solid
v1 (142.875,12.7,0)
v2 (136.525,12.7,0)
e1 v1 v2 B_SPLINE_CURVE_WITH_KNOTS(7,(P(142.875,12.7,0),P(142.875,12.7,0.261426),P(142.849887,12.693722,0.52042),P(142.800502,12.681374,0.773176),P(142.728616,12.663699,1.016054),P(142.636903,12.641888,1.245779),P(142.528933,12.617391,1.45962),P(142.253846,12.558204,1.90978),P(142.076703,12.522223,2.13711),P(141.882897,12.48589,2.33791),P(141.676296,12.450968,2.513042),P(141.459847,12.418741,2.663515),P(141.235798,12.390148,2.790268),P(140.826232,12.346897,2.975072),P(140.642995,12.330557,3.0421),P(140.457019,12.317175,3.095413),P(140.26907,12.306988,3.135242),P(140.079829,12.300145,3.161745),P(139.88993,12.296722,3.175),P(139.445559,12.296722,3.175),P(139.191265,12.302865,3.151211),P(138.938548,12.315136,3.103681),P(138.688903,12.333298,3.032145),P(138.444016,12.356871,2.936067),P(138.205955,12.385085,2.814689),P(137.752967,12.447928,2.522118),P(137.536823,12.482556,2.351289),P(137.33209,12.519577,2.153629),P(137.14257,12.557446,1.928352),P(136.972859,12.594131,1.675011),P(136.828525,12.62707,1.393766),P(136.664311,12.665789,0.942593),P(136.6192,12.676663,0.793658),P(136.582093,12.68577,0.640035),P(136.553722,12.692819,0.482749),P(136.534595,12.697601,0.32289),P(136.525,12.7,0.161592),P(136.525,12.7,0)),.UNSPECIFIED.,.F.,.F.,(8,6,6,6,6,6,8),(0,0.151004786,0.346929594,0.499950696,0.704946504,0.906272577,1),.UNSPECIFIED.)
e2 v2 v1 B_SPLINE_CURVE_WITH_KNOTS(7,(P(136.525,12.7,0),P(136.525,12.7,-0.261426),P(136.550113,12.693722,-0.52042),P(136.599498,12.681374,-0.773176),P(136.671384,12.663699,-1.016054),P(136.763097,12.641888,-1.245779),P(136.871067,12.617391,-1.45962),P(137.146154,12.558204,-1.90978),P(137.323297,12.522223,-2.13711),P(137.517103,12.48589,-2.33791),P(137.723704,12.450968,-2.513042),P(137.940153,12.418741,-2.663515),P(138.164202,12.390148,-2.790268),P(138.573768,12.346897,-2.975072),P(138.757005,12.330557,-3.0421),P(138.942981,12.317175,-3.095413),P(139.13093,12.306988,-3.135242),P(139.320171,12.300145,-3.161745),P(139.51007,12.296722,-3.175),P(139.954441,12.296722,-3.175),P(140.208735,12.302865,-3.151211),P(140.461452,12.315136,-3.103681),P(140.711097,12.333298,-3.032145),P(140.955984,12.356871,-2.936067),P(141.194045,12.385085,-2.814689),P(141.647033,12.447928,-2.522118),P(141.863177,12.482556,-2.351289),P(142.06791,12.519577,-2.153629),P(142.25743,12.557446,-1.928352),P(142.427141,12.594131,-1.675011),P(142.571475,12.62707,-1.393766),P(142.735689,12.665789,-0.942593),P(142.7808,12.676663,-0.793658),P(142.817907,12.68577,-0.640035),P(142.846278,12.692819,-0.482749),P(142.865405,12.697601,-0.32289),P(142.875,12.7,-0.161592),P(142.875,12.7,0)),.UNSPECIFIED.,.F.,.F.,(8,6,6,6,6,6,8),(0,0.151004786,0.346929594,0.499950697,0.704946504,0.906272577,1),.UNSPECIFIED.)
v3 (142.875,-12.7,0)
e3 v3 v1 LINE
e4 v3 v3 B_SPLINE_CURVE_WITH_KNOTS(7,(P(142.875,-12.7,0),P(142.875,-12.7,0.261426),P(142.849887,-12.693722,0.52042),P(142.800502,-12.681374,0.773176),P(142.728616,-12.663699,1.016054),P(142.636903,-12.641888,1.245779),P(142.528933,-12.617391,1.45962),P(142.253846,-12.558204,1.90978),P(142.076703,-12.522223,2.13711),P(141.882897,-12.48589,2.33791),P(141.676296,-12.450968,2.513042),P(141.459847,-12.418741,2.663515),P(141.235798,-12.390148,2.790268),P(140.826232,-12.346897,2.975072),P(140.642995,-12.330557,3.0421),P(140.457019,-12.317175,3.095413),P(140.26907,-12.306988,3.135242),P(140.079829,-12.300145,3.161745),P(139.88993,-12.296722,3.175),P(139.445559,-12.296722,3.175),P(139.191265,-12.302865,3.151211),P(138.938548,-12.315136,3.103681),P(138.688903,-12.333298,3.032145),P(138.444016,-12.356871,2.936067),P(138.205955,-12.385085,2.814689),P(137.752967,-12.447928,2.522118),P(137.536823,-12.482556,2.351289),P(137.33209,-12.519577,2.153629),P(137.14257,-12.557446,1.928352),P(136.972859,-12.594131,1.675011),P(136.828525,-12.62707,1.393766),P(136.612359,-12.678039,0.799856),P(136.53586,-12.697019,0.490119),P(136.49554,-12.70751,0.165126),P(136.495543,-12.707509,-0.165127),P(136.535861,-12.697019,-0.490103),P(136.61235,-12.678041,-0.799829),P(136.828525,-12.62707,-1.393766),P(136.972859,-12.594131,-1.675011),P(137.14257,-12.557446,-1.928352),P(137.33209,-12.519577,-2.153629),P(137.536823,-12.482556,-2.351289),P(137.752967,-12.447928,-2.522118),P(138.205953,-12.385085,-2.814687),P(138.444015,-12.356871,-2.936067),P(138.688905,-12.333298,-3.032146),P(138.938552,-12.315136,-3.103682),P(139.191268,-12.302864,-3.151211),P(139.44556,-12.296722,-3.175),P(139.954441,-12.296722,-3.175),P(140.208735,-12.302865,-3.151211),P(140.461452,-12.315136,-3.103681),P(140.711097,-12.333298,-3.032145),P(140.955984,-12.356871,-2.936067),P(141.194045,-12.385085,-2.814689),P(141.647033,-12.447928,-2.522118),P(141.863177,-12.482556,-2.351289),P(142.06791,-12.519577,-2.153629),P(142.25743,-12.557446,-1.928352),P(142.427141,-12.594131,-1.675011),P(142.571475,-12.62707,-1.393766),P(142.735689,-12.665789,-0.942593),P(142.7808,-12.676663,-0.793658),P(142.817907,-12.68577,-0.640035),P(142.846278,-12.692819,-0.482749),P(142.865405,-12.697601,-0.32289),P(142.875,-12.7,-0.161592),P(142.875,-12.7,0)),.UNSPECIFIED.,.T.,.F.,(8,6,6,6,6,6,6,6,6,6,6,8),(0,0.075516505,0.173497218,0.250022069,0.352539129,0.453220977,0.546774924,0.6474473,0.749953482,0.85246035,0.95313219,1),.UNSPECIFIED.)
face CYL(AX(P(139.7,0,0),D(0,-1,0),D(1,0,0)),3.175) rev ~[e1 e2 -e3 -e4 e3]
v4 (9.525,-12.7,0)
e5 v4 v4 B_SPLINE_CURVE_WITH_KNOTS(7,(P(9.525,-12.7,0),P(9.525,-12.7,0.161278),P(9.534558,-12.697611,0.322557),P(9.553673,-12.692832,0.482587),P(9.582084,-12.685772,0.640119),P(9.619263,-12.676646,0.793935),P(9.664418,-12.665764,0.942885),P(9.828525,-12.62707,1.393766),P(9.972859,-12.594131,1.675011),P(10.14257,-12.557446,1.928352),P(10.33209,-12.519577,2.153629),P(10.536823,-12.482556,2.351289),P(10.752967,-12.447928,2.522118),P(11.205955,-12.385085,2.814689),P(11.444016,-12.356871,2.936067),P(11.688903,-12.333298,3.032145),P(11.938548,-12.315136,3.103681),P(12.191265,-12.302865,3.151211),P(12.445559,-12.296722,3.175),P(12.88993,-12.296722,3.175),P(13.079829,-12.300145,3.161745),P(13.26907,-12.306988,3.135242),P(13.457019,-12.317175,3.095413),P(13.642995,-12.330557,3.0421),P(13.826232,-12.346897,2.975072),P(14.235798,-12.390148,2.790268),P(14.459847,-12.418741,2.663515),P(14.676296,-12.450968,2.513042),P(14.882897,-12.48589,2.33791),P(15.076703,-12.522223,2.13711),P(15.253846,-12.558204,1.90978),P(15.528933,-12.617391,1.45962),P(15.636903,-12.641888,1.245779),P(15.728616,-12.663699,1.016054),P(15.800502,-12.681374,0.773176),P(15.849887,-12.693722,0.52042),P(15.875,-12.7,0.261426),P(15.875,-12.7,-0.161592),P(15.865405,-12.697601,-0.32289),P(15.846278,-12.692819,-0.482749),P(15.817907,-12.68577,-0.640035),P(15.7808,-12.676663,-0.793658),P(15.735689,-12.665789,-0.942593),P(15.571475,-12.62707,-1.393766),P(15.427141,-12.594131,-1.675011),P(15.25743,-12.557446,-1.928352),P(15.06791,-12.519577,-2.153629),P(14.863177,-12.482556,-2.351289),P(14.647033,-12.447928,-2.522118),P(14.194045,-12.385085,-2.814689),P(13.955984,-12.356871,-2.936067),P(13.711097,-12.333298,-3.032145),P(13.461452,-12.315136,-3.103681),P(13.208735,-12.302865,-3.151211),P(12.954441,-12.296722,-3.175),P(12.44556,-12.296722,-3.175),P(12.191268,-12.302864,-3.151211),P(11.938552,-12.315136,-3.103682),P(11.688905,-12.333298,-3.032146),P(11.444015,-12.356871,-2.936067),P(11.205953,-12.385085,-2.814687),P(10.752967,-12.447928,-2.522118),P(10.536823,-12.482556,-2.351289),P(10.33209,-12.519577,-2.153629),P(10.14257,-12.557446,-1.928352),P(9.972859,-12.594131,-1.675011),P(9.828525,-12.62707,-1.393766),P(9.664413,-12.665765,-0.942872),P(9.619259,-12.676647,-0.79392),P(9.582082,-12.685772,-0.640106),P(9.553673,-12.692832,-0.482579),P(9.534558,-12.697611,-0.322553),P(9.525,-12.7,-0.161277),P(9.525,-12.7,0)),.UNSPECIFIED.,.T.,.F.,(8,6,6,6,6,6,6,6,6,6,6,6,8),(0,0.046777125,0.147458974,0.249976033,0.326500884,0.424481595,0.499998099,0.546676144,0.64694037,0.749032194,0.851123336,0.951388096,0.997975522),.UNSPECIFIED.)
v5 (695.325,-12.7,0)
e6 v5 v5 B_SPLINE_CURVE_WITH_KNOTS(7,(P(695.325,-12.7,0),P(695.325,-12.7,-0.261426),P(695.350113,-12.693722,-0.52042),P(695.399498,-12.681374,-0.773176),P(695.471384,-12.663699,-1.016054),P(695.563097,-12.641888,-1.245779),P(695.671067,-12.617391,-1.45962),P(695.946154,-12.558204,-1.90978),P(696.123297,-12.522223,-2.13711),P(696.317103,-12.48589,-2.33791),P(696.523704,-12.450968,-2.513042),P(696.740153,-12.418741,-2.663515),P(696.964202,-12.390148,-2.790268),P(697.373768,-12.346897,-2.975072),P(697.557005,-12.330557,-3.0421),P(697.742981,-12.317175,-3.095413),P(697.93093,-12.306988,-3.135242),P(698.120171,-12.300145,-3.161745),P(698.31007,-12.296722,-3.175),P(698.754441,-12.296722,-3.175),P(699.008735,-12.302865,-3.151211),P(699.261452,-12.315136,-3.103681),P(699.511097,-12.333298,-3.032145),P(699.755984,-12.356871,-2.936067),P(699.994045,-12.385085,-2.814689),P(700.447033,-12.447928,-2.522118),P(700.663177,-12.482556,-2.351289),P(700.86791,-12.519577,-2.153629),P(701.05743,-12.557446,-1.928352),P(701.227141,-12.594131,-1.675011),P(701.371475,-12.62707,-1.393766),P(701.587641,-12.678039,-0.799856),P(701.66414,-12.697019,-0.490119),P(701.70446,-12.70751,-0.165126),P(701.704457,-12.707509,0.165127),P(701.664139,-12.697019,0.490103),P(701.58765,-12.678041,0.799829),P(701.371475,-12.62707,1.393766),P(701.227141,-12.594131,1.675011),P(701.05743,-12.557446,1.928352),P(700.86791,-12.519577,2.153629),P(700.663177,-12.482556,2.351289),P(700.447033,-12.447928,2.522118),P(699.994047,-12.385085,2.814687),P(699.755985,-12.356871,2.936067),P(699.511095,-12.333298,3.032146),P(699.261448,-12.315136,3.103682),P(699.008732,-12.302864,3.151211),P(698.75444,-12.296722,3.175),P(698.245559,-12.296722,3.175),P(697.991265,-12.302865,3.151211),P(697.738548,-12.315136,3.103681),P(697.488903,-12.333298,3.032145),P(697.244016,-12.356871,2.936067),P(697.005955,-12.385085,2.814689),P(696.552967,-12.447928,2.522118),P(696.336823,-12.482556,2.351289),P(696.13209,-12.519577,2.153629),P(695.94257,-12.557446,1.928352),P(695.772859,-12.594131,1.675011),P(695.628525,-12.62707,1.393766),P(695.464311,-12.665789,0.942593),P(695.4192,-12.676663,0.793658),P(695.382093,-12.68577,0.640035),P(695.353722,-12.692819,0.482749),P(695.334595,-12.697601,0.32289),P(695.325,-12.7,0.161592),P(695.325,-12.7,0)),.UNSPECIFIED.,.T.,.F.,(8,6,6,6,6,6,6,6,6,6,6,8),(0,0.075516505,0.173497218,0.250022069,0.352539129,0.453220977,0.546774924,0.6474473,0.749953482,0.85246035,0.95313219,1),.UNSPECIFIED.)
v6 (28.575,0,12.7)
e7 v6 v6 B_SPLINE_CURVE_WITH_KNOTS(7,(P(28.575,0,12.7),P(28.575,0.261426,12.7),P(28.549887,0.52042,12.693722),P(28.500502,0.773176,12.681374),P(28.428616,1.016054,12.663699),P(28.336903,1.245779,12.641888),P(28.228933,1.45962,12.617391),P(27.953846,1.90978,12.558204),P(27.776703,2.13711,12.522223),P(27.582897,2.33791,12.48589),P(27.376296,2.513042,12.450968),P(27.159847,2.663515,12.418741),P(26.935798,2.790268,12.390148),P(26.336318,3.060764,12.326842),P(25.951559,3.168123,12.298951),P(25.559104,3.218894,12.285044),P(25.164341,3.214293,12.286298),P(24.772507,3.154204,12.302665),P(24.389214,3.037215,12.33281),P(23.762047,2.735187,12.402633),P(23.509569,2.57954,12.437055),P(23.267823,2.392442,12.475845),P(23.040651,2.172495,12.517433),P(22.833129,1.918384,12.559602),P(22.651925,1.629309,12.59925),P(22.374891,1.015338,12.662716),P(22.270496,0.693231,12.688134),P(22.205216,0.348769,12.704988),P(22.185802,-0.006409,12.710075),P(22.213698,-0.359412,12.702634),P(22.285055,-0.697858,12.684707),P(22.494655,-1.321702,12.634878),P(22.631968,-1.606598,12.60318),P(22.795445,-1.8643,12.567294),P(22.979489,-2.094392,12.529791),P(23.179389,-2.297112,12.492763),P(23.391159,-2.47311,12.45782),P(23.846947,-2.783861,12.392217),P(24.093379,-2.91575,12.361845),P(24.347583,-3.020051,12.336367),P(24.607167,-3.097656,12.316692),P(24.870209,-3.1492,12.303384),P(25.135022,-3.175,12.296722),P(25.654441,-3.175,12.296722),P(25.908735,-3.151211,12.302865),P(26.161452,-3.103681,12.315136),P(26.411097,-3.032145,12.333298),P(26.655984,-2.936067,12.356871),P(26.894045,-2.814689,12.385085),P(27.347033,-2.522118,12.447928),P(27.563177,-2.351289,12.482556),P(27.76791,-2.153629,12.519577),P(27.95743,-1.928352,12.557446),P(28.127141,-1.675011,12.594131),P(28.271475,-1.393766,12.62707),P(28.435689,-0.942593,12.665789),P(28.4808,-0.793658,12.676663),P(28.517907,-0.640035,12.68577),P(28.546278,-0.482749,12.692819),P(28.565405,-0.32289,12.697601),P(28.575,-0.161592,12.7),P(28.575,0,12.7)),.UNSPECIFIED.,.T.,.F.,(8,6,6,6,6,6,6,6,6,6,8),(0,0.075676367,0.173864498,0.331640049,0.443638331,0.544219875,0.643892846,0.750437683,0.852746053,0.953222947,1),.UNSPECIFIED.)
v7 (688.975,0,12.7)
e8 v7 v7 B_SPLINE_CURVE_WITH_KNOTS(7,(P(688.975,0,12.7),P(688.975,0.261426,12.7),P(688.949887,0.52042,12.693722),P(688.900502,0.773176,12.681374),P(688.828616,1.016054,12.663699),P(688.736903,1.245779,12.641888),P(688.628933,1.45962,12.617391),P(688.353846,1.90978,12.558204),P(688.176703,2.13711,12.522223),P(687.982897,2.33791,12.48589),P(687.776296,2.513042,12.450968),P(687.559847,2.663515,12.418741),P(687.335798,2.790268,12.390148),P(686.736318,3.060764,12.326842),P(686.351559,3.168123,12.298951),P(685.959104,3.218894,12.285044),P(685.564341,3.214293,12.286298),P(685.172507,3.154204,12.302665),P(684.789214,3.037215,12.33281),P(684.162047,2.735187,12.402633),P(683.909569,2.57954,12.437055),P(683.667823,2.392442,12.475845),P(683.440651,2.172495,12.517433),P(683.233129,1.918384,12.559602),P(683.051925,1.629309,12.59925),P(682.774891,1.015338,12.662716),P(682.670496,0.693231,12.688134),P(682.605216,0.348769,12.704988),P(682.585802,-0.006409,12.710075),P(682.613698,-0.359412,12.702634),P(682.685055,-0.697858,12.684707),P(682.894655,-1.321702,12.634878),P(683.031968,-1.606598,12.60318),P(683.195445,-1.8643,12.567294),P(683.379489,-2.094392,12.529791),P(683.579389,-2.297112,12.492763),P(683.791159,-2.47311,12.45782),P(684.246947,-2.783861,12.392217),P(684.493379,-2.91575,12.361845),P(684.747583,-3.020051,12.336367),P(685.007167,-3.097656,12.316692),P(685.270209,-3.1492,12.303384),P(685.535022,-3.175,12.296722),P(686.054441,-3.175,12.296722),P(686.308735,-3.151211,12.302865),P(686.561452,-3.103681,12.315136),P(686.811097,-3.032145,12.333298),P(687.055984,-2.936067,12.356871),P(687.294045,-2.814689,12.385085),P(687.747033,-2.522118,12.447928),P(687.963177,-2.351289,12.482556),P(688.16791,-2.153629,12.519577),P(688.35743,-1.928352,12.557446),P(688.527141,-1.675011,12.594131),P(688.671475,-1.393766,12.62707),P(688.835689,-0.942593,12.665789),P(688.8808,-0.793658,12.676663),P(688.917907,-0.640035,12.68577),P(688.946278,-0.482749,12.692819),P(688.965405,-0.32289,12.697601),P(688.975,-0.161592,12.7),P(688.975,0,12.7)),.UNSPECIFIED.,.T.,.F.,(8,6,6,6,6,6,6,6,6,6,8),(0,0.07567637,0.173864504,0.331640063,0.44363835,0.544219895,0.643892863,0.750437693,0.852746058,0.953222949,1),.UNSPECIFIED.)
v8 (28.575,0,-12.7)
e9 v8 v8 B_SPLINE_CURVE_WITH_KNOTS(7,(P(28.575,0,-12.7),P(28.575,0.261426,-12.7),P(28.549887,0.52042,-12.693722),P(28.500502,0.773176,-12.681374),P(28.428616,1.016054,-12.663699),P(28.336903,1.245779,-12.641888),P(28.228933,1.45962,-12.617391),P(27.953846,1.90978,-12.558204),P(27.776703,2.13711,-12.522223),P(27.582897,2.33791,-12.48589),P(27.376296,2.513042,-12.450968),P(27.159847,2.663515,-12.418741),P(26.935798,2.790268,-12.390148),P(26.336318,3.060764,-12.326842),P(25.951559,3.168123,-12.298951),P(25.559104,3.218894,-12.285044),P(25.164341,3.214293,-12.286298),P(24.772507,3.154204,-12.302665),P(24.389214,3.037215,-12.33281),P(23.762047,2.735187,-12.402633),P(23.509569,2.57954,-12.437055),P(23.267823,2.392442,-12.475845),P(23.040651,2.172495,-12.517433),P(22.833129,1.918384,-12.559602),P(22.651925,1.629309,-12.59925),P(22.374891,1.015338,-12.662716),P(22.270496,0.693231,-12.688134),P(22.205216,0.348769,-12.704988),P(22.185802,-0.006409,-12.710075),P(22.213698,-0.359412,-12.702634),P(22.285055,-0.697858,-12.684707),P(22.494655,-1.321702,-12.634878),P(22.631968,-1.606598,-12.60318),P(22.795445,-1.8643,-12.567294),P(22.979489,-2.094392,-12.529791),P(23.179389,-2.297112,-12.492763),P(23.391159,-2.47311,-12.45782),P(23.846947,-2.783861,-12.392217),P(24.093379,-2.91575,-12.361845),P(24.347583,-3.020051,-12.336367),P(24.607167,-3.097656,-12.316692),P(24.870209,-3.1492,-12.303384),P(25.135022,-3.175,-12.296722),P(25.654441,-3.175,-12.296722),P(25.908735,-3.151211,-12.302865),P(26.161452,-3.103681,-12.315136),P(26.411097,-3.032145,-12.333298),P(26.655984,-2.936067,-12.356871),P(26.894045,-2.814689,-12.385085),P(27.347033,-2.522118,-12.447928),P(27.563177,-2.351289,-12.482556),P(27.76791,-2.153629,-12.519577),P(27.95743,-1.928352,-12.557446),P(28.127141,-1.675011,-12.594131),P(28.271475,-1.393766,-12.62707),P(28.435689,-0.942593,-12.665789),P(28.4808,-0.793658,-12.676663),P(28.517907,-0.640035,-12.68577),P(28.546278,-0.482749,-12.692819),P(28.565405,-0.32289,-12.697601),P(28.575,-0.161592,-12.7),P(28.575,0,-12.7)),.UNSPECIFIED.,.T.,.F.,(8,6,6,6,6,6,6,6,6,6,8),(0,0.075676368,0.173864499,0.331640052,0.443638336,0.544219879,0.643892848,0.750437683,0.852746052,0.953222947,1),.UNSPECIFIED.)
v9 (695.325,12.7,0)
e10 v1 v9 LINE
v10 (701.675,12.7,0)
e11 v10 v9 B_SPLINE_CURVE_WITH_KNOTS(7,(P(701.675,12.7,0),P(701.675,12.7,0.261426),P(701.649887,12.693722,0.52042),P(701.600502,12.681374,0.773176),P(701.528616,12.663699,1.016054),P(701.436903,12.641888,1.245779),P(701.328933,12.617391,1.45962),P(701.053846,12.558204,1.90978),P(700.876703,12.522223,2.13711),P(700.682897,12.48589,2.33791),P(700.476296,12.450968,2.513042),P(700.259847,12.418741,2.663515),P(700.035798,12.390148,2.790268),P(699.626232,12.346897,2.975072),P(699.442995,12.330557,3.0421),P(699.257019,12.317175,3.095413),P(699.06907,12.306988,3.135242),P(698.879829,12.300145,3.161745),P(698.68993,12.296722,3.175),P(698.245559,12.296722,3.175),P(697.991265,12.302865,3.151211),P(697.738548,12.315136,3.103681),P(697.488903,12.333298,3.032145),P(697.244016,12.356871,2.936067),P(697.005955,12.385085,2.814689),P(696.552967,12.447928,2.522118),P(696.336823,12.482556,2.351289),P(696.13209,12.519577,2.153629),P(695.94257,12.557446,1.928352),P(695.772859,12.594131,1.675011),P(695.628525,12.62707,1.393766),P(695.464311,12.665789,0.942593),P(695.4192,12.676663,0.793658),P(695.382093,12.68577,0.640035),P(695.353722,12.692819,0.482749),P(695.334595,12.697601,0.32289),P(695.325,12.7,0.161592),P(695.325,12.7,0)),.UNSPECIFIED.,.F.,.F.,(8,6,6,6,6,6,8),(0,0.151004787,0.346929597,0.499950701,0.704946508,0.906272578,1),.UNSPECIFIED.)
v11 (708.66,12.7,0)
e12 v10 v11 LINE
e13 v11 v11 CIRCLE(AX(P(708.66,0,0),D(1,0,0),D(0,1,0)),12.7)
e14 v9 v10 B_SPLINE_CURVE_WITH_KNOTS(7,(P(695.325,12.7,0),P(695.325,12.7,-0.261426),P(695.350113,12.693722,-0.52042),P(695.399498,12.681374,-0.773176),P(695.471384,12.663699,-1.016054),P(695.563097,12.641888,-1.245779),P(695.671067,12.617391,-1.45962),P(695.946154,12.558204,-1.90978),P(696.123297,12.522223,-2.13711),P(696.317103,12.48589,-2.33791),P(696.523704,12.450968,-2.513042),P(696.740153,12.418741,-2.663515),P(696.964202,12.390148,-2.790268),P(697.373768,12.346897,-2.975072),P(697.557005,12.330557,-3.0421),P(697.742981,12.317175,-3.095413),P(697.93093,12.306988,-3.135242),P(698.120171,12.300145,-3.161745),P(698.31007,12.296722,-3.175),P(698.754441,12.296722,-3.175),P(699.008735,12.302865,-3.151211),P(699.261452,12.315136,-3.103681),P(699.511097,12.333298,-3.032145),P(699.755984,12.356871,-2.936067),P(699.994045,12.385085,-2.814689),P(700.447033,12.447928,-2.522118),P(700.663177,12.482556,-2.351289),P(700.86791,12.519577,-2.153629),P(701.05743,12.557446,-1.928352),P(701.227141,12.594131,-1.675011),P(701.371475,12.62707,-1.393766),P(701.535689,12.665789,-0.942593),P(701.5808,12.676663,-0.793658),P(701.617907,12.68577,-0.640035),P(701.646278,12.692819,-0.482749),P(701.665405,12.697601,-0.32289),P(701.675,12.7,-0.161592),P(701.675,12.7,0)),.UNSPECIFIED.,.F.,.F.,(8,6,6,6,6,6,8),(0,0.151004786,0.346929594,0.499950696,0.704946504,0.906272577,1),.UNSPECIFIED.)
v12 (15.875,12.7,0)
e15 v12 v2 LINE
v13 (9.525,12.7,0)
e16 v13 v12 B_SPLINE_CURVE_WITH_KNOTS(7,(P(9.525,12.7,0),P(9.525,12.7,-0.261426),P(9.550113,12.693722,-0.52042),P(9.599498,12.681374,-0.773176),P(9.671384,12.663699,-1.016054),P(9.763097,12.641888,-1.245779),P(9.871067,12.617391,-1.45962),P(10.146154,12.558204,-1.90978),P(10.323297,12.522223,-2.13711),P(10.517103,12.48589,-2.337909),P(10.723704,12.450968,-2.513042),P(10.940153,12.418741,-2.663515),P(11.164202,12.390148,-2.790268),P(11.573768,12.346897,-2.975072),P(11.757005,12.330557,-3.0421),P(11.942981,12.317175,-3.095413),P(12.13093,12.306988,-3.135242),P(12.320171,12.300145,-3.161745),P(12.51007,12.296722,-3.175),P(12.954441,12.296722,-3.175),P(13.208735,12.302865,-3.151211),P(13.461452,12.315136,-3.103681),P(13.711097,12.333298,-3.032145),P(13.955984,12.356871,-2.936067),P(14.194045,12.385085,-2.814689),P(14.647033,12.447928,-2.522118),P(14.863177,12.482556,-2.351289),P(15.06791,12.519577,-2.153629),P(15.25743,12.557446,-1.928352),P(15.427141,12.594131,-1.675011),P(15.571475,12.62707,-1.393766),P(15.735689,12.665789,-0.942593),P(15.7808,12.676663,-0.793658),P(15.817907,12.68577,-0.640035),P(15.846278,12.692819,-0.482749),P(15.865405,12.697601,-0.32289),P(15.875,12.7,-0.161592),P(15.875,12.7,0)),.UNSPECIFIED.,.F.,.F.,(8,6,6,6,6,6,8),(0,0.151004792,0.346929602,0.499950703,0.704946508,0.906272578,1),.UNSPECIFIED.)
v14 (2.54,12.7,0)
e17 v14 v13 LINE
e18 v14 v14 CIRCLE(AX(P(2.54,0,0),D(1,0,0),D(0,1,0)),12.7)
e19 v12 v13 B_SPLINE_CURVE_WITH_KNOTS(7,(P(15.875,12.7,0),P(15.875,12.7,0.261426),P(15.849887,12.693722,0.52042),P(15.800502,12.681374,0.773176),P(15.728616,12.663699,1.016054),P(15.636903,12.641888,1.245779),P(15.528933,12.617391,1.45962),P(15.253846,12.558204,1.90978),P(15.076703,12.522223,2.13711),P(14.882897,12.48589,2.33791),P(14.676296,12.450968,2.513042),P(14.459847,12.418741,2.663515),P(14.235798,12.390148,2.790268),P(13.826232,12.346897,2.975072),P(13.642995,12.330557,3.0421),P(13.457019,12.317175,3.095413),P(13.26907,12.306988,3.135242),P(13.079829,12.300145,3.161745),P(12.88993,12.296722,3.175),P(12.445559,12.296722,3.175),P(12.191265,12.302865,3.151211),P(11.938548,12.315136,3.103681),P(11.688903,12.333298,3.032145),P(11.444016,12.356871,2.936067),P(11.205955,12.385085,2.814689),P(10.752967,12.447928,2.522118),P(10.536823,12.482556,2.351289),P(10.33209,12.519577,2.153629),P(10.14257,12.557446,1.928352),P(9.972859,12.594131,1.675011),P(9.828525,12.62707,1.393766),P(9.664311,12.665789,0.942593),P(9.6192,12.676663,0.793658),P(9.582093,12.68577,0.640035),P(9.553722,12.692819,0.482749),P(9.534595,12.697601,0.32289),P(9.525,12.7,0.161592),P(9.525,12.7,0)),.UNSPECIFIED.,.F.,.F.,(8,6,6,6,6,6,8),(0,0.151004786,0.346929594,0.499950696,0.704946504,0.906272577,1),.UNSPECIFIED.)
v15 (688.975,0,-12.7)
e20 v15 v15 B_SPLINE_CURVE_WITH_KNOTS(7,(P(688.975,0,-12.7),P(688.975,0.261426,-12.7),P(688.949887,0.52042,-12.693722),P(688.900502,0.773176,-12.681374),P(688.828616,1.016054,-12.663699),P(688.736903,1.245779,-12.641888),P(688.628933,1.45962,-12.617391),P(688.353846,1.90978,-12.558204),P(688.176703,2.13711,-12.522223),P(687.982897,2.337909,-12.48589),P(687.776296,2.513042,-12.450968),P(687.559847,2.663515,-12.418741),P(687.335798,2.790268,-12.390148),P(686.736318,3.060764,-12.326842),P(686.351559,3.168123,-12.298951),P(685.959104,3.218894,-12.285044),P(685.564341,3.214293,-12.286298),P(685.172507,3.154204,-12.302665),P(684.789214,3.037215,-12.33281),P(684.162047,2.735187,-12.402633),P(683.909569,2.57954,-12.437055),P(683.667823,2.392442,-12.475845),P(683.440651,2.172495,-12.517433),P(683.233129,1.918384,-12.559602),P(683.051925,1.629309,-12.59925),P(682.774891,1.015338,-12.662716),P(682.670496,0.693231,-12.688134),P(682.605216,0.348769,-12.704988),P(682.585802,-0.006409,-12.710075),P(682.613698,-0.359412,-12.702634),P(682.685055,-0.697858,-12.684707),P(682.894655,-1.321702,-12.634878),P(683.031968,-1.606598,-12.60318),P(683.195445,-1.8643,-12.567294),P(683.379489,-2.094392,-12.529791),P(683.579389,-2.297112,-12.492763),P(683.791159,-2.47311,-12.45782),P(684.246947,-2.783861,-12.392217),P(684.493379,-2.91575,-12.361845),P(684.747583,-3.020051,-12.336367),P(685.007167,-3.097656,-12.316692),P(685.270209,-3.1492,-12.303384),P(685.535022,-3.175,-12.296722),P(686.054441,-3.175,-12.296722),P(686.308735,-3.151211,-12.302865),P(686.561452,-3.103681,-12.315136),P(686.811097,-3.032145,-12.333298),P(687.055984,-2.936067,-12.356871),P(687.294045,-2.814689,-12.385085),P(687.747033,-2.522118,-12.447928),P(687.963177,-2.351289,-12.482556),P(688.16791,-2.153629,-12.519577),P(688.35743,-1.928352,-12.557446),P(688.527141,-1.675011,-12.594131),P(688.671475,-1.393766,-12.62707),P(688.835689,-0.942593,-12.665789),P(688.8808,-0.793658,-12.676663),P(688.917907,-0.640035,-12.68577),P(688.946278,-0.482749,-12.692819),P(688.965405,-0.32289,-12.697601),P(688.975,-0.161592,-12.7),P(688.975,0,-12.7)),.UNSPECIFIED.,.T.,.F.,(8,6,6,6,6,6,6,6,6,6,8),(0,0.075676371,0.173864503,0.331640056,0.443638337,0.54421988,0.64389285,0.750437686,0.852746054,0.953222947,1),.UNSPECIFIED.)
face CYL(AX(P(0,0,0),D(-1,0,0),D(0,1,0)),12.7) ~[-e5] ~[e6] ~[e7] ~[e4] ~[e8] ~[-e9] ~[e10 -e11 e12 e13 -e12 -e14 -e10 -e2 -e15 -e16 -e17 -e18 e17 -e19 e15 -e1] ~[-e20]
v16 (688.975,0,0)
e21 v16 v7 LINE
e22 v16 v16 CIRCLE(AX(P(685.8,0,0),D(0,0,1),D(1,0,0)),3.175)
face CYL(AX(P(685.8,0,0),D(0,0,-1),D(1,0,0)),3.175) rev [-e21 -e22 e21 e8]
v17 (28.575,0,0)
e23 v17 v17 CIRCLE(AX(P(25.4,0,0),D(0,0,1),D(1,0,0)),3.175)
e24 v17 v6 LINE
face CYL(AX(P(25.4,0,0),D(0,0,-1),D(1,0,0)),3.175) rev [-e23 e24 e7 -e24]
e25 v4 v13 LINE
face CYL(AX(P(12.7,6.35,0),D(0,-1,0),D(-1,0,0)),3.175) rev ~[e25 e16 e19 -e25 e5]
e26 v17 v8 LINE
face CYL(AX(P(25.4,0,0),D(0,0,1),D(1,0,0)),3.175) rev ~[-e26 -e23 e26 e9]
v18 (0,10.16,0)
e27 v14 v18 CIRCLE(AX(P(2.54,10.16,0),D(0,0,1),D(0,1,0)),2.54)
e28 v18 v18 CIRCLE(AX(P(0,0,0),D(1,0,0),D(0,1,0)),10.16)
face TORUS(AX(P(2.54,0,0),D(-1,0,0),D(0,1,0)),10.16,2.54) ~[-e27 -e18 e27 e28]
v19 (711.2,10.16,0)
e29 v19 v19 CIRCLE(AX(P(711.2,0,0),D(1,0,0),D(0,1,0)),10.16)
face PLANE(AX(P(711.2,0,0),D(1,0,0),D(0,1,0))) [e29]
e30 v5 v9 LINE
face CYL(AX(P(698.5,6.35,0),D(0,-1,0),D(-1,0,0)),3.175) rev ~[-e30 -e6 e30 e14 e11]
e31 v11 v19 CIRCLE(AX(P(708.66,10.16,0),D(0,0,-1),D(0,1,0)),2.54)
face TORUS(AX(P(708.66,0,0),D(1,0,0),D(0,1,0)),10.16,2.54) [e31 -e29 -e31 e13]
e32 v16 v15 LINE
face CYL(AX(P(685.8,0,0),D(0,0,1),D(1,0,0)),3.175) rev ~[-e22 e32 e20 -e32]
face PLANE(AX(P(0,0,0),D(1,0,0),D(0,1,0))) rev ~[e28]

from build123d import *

# Parameters (mm, degrees)
F0_R           = 12.7
F1_DEPTH       = 711.2
F3_DEPTH       = 19.05
F4_R           = 2.54
F7_DEPTH       = 45.72
F7_DEPTH_BACK  = 25.4
F9_DEPTH       = 25.4
F9_DEPTH_BACK  = 25.4
F10_R          = 3.175
F11_DEPTH      = 25.4
F11_DEPTH_BACK = 25.4


with BuildPart() as f1:
    # F0 (on Right) → F1 (new body)
    with BuildSketch(Plane.YZ):
        Circle(F0_R)
    extrude(amount=F1_DEPTH)

    # F2 (on Front) → F3 (join)
    with BuildSketch(Plane.XZ):
        with BuildLine():
            ThreePointArc((9.525, 0), (12.7, -3.175), (15.875, 0))
            ThreePointArc((15.875, 0), (12.7, 3.175), (9.525, 0))
        make_face()
    extrude(amount=F3_DEPTH)

    # F4
    f4_edges = [f1.edges().sort_by_distance(p)[0] for p in [
        (0, -12.7, 0),
        (711.2, -12.7, 0),
    ]]
    fillet(f4_edges, radius=F4_R)

    # F6 (on offset) → F7 (cut, two sides)
    with BuildSketch(Plane.XZ.offset(-6.35)) as f7_sk:
        with BuildLine():
            ThreePointArc((15.875, 0), (12.7, 3.175), (9.525, 0))
            Line((9.525, 0), (12.7, 0))
            Line((12.7, 0), (15.875, 0))
        make_face()
        with BuildLine():
            ThreePointArc((701.675, 0), (698.5, 3.175), (695.325, 0))
            ThreePointArc((695.325, 0), (698.5, -3.175), (701.675, 0))
        make_face()
        with BuildLine():
            Line((12.7, 0), (9.525, 0))
            ThreePointArc((9.525, 0), (12.7, -3.175), (15.875, 0))
            Line((15.875, 0), (12.7, 0))
        make_face()
    extrude(amount=-F7_DEPTH, mode=Mode.SUBTRACT)
    extrude(f7_sk.sketch, amount=F7_DEPTH_BACK, mode=Mode.SUBTRACT)

    # F8 (on Front) → F9 (cut, two sides)
    with BuildSketch(Plane.XZ) as f9_sk:
        with BuildLine():
            ThreePointArc((136.525, 0), (139.7, -3.175), (142.875, 0))
            ThreePointArc((142.875, 0), (139.7, 3.175), (136.525, 0))
        make_face()
    extrude(amount=-F9_DEPTH, mode=Mode.SUBTRACT)
    extrude(f9_sk.sketch, amount=F9_DEPTH_BACK, mode=Mode.SUBTRACT)

    # F10 (on Top) → F11 (cut, two sides)
    with BuildSketch(Plane.XY) as f11_sk:
        with BuildLine():
            ThreePointArc((22.225, 0), (25.4, -3.175), (28.575, 0))
            ThreePointArc((28.575, 0), (25.4, 3.175), (22.225, 0))
        make_face()
        with Locations((685.8, 0)):
            Circle(F10_R)
    extrude(amount=-F11_DEPTH, mode=Mode.SUBTRACT)
    extrude(f11_sk.sketch, amount=F11_DEPTH_BACK, mode=Mode.SUBTRACT)


solid = f1.part
